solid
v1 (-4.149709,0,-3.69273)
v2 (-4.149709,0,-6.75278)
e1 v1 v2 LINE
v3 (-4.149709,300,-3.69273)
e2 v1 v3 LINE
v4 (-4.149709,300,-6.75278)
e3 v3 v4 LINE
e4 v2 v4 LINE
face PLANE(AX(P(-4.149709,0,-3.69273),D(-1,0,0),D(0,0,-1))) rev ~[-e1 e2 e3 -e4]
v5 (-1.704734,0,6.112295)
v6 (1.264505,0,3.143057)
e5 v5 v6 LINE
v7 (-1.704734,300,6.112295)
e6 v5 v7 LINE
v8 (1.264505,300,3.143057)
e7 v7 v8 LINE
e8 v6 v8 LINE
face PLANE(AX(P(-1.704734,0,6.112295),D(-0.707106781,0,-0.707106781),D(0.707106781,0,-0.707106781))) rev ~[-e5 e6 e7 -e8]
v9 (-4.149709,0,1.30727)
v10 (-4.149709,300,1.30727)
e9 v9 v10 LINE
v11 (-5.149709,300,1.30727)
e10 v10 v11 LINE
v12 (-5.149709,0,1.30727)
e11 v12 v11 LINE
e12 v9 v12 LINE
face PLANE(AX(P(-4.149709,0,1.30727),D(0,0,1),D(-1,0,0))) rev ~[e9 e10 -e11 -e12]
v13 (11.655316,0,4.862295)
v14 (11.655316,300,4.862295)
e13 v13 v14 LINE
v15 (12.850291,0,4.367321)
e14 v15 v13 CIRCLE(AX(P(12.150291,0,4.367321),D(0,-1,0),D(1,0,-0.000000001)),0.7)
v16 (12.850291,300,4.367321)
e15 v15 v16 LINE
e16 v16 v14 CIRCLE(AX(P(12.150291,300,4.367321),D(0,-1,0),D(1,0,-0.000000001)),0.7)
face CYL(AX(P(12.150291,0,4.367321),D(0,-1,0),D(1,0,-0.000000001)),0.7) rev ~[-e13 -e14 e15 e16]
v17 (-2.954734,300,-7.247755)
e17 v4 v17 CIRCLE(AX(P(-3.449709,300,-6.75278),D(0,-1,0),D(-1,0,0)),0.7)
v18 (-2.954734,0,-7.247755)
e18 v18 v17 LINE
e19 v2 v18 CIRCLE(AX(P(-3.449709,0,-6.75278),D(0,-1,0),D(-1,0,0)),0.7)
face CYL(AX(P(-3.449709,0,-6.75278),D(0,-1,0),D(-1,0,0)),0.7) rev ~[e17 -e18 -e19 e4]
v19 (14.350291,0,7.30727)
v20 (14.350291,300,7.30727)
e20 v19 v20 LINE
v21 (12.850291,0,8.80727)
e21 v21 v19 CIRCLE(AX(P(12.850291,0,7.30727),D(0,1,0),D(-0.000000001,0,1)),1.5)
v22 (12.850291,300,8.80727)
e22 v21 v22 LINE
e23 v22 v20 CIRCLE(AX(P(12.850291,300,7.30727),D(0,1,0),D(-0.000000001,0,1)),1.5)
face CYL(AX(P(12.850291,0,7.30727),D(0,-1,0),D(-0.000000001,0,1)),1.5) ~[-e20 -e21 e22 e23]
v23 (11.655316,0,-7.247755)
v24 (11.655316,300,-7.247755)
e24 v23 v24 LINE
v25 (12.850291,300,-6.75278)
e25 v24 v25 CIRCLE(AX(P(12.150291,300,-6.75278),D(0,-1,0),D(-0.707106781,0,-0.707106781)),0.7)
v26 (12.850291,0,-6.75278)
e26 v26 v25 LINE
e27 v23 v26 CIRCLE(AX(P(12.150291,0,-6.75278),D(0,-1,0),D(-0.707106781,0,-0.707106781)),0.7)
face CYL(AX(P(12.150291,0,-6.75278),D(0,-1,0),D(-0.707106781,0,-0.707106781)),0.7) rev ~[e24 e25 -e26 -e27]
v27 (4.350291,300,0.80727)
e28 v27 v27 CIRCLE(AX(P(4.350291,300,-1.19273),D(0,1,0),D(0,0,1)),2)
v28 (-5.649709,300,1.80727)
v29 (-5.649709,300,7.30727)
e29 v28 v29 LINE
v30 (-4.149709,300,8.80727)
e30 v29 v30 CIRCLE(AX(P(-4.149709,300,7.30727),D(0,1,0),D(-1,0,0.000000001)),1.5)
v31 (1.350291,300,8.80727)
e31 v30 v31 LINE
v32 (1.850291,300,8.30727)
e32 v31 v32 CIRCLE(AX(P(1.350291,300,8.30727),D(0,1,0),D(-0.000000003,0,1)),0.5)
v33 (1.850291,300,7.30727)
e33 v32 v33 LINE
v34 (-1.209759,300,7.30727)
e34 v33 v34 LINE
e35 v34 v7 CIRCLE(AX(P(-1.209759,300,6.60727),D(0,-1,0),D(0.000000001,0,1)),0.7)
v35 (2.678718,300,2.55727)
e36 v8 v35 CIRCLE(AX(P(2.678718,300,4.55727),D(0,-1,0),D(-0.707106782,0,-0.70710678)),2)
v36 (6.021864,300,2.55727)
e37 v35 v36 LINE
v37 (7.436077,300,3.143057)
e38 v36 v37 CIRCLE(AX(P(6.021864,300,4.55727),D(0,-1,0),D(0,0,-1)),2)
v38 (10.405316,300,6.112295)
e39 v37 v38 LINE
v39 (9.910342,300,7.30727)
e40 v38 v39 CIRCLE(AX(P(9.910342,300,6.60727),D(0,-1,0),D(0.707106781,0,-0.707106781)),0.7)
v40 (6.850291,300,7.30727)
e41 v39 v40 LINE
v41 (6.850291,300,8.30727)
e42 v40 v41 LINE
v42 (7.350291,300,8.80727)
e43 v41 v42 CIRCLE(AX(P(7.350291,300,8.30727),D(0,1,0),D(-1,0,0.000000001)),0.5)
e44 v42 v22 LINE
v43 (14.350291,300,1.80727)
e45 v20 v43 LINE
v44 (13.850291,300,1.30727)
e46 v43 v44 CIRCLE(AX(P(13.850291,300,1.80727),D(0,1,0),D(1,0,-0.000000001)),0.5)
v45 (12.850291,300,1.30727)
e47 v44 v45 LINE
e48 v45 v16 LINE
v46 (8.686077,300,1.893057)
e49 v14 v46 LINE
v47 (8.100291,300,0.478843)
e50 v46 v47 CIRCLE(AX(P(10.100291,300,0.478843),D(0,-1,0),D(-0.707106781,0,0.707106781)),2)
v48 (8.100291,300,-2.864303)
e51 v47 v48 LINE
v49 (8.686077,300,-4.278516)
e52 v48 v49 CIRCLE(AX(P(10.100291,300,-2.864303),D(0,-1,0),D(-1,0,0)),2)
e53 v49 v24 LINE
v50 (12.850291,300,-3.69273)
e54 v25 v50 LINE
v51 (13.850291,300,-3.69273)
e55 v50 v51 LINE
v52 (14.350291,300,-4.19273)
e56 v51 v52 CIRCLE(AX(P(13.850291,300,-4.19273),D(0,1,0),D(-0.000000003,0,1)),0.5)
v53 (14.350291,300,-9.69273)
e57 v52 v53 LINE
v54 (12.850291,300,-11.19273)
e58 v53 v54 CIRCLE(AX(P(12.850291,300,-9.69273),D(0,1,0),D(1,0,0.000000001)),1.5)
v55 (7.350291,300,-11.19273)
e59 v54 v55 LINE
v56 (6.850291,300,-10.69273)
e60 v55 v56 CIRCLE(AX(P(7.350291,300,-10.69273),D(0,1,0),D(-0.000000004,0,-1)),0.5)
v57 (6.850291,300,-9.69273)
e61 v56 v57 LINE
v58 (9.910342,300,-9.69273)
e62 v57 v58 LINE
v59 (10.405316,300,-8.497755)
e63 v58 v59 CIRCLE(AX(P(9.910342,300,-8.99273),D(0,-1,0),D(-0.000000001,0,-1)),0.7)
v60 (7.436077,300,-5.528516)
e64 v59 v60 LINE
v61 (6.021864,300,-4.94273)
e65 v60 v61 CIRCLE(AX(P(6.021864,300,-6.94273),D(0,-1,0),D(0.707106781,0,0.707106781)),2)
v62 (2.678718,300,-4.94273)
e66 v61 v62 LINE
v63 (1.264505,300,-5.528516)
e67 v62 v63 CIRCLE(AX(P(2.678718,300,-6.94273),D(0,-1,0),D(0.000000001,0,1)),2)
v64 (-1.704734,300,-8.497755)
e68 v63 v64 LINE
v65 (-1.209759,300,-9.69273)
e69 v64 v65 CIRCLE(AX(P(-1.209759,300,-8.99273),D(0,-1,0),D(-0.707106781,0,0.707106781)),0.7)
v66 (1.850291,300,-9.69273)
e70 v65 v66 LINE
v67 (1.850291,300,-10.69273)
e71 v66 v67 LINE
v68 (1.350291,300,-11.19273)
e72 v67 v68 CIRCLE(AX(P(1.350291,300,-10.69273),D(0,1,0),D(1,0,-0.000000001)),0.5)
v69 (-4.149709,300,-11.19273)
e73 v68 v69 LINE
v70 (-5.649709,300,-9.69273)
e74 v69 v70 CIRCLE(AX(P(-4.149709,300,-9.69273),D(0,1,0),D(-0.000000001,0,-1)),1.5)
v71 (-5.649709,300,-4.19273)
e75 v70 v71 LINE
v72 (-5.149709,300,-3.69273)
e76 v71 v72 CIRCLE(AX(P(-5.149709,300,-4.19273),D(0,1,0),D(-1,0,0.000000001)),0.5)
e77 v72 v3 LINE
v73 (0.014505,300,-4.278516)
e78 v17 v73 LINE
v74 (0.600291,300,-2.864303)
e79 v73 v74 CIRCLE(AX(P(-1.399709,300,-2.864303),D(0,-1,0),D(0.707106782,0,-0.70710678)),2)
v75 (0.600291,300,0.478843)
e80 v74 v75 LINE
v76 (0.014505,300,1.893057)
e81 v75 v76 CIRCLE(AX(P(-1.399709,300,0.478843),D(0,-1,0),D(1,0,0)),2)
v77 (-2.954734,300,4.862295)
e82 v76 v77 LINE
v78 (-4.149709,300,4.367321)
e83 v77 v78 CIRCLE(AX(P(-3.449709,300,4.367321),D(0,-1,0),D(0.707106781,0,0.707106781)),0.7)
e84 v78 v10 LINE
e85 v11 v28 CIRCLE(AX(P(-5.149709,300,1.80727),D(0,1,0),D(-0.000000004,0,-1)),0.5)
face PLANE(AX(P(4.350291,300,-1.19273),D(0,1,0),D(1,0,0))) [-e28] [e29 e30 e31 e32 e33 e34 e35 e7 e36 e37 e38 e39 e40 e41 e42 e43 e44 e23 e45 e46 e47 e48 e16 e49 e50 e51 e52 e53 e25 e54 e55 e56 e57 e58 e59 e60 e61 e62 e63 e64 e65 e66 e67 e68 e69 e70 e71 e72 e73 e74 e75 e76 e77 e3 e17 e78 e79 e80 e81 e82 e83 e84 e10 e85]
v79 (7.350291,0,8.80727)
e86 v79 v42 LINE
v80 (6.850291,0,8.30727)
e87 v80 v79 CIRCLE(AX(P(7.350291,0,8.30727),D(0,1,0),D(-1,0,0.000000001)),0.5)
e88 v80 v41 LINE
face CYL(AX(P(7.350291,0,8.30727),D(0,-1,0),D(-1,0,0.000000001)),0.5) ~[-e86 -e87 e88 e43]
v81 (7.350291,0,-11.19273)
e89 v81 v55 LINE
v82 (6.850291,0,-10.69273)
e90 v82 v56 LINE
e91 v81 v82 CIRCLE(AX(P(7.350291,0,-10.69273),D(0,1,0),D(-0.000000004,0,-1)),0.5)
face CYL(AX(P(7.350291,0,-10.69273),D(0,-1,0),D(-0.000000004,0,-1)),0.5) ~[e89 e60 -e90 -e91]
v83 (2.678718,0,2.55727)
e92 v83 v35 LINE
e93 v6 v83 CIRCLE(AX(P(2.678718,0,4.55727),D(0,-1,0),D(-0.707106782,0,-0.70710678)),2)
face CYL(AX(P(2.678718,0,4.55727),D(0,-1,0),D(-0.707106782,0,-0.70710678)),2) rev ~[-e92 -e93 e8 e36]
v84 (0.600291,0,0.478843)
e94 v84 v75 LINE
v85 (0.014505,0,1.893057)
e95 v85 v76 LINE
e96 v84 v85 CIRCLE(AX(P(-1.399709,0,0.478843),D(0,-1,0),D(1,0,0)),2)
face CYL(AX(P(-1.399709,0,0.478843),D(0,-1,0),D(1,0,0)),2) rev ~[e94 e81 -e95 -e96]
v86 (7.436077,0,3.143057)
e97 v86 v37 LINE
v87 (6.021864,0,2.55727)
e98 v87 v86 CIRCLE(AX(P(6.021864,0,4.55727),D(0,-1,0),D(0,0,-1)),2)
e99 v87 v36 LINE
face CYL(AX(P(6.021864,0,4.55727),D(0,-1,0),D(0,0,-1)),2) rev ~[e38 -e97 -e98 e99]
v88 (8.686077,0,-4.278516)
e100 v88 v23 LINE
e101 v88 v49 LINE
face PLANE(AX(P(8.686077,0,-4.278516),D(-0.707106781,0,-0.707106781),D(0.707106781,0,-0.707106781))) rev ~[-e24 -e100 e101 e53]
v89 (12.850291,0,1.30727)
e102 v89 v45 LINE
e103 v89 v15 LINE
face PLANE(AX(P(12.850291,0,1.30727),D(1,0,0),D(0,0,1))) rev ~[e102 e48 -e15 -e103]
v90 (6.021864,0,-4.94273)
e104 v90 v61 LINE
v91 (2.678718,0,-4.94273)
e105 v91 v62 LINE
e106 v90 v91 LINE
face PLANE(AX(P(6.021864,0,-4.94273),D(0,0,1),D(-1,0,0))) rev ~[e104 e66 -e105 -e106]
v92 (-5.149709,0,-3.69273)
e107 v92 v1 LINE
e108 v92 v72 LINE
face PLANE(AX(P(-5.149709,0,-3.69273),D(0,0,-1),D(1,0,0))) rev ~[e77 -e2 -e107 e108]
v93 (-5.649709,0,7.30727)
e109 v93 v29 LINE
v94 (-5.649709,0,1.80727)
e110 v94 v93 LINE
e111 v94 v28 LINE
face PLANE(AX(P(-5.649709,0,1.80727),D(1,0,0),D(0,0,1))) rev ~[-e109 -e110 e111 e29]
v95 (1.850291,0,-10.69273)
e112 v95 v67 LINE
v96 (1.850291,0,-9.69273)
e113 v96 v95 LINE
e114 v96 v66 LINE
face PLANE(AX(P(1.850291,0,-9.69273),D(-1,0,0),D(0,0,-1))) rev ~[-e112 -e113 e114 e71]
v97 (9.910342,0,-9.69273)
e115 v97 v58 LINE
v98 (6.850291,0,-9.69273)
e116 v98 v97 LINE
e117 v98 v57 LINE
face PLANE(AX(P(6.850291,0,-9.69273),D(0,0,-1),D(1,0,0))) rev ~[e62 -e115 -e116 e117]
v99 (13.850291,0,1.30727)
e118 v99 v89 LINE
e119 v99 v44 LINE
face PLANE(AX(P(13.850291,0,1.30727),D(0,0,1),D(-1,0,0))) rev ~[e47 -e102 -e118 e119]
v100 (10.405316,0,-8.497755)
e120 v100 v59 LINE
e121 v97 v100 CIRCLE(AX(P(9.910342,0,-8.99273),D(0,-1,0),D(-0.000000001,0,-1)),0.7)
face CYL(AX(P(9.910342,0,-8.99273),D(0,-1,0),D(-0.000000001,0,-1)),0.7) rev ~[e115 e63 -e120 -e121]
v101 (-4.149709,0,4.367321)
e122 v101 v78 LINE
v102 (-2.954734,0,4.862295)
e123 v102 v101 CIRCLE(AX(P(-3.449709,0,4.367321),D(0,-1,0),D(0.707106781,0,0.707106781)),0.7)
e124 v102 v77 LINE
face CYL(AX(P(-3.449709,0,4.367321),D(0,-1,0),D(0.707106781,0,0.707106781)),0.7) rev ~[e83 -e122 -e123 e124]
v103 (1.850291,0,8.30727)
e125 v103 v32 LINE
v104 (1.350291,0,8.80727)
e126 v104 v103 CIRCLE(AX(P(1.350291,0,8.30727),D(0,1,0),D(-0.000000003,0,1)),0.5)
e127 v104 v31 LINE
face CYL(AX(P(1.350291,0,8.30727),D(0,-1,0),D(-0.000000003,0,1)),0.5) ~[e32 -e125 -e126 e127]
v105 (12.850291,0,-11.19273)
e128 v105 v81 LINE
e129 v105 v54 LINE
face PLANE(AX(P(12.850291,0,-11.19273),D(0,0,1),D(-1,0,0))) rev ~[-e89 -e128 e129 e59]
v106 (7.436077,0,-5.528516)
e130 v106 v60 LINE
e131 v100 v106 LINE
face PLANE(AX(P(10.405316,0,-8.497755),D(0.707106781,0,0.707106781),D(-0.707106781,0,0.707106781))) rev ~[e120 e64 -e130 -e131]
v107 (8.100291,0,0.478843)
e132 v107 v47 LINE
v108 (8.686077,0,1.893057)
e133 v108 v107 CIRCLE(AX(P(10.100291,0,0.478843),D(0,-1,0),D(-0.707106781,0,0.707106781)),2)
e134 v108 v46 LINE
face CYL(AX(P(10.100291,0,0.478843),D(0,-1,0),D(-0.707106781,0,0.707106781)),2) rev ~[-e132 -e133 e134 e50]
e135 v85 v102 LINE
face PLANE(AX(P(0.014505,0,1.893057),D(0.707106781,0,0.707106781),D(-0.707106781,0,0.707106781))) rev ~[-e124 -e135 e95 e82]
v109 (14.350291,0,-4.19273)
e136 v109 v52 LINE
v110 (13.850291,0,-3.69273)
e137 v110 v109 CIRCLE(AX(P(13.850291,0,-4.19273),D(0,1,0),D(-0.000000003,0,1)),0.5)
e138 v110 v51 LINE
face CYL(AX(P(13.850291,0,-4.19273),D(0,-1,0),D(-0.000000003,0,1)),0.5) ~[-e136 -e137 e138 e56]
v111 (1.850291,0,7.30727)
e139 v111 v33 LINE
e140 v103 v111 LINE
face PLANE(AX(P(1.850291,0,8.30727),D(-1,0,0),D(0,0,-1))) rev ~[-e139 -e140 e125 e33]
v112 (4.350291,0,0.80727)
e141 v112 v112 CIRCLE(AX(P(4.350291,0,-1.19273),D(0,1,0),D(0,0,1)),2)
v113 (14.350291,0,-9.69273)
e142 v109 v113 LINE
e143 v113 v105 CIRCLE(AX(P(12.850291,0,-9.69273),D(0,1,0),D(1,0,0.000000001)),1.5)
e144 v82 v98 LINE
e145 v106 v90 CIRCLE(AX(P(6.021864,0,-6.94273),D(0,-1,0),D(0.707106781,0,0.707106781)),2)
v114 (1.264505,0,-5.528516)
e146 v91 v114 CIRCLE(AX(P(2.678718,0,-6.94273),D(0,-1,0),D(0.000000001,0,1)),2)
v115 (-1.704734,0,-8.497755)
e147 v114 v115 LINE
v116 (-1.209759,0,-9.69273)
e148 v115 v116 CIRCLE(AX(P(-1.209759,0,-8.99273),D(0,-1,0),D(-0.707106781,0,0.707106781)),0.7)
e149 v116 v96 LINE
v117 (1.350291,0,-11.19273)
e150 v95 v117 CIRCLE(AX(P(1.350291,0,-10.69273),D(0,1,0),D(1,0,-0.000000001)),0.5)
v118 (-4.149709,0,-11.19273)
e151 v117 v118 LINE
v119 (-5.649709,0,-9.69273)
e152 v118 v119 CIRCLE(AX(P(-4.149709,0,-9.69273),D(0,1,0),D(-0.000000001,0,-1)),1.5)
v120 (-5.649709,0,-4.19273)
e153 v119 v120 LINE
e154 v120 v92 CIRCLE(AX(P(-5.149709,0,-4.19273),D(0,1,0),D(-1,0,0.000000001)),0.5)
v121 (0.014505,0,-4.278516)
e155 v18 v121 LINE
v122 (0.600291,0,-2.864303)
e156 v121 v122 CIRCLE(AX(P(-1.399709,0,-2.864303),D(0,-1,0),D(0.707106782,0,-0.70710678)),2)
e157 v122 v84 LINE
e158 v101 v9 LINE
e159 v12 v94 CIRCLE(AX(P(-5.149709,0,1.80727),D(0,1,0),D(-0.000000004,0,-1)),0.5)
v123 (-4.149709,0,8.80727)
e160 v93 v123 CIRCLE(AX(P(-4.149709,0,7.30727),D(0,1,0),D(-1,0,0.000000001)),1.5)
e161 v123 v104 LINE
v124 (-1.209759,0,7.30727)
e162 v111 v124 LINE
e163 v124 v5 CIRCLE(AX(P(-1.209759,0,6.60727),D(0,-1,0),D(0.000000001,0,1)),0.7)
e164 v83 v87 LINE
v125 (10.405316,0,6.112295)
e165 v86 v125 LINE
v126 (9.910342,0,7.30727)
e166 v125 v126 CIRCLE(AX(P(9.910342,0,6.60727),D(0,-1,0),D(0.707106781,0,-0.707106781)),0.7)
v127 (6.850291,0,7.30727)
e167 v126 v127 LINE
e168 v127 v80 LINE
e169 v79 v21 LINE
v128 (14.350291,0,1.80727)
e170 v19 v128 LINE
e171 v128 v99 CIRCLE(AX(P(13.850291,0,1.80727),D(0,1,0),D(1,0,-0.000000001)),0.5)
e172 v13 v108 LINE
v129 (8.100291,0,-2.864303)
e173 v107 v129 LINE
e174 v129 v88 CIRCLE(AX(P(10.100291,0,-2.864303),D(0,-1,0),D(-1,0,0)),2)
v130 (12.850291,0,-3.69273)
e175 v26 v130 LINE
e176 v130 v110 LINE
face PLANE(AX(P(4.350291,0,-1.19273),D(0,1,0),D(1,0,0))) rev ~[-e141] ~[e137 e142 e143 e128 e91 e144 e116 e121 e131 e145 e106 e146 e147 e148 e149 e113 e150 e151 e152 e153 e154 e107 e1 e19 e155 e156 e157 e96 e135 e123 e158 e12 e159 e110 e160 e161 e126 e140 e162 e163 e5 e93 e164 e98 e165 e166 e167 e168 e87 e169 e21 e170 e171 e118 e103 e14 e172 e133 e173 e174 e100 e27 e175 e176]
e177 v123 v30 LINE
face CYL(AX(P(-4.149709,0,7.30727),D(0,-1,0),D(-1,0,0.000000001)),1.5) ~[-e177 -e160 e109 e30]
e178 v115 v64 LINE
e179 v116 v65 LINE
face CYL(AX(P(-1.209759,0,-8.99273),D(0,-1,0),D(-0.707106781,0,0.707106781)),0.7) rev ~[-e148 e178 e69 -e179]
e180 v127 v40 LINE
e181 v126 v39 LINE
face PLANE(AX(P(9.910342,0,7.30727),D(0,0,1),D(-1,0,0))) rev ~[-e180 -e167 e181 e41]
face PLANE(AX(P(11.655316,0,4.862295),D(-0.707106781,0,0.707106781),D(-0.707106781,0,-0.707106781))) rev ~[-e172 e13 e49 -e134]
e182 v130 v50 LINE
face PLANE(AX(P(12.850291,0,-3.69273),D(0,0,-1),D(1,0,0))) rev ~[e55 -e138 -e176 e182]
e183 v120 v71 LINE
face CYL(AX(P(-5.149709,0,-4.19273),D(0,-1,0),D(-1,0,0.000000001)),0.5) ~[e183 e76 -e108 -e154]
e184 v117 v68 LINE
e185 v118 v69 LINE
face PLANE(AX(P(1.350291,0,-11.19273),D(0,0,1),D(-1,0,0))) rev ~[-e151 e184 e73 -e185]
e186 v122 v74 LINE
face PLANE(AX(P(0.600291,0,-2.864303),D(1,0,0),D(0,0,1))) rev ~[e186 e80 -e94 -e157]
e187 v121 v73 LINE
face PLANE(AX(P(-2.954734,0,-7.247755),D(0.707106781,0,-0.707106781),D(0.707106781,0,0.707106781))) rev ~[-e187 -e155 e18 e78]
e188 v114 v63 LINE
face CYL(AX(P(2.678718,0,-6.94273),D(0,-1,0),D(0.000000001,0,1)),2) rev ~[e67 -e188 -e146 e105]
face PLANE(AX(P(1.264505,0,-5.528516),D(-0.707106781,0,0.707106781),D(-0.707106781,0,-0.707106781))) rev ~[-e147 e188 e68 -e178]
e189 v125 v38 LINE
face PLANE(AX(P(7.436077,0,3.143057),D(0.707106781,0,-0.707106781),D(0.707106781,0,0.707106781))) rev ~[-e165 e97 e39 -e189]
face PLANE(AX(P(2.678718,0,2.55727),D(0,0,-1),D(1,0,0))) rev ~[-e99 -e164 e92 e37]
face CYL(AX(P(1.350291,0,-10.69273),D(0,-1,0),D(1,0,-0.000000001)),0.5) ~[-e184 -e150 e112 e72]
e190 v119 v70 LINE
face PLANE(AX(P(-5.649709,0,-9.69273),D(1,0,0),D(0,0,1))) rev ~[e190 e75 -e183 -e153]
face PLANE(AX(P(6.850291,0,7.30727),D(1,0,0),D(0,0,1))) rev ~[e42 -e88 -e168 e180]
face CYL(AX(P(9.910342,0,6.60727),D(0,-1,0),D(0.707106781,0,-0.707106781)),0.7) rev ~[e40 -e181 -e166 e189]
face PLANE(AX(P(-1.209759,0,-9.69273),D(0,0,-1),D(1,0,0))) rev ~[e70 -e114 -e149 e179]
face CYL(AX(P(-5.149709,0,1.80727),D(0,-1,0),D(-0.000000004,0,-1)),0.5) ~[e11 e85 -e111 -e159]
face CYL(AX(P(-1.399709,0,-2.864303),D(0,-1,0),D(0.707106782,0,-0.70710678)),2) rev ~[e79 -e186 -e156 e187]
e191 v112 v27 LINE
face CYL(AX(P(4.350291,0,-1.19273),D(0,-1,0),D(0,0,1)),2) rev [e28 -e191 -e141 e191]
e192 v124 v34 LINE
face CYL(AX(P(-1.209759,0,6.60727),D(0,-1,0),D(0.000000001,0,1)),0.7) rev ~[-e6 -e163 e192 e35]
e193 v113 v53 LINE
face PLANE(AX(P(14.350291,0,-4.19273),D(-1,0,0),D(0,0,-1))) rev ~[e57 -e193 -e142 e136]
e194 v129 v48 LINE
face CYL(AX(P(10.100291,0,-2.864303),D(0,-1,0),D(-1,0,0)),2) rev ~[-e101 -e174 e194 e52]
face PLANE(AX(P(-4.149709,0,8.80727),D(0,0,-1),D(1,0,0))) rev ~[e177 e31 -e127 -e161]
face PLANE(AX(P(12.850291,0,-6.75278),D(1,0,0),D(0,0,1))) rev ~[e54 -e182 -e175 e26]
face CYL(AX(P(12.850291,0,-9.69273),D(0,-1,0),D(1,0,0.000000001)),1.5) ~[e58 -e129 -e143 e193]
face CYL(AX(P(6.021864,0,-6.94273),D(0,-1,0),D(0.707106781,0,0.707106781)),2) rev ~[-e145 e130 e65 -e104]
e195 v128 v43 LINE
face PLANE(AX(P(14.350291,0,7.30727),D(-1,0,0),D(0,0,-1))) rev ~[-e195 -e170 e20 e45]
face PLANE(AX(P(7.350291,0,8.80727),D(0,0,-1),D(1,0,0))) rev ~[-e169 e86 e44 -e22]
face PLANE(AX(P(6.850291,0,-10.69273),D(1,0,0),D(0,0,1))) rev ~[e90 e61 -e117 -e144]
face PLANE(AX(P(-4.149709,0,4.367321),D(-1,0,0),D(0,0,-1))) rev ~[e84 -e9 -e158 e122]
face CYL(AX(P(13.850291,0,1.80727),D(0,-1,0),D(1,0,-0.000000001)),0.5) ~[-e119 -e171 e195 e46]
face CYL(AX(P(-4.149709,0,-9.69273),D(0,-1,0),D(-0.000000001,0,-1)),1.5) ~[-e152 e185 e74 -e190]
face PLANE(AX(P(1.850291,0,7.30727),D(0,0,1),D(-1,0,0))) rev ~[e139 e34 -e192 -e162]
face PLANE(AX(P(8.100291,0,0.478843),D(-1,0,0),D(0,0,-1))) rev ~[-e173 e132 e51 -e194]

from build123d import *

# Parameters (mm, degrees)
ESQUISSE1_R        = 2
BOSS_EXTRU_1_DEPTH = 300


with BuildPart() as part:
    # Esquisse1 → Boss.-Extru.1 (new body)
    with BuildSketch(Plane(origin=(0, 0, 0), x_dir=(1, 0, 0), z_dir=(0, 1, 0))):
        with BuildLine():
            Line((-5.649708969, 9.692729836), (-5.649708969, 4.192729836))
            ThreePointArc((-5.649708969, 4.192729836), (-5.503262359, 3.839176445), (-5.149708969, 3.692729836))
            Line((-5.149708969, 3.692729836), (-4.149708969, 3.692729836))
            Line((-4.149708969, 3.692729836), (-4.149708969, 6.752780342))
            ThreePointArc((-4.149708969, 6.752780342), (-3.717587371, 7.399496015), (-2.954734222, 7.247755089))
            Line((-2.954734222, 7.247755089), (0.014504594, 4.278516274))
            ThreePointArc((0.014504594, 4.278516274), (0.448050096, 3.629669576), (0.600291031, 2.864302711))
            Line((0.600291031, 2.864302711), (0.600291031, -0.478843039))
            ThreePointArc((0.600291031, -0.478843039), (0.448050096, -1.244209904), (0.014504594, -1.893056602))
            Line((0.014504594, -1.893056602), (-2.954734222, -4.862295417))
            ThreePointArc((-2.954734222, -4.862295417), (-3.717587371, -5.014036343), (-4.149708969, -4.36732067))
            Line((-4.149708969, -4.36732067), (-4.149708969, -1.307270164))
            Line((-4.149708969, -1.307270164), (-5.149708969, -1.307270164))
            ThreePointArc((-5.149708969, -1.307270164), (-5.503262359, -1.453716774), (-5.649708969, -1.807270164))
            Line((-5.649708969, -1.807270164), (-5.649708969, -7.307270164))
            ThreePointArc((-5.649708969, -7.307270164), (-5.21036914, -8.367930336), (-4.149708969, -8.807270164))
            Line((-4.149708969, -8.807270164), (1.350291031, -8.807270164))
            ThreePointArc((1.350291031, -8.807270164), (1.703844422, -8.660823555), (1.850291031, -8.307270164))
            Line((1.850291031, -8.307270164), (1.850291031, -7.307270164))
            Line((1.850291031, -7.307270164), (-1.209759475, -7.307270164))
            ThreePointArc((-1.209759475, -7.307270164), (-1.856475148, -6.875148567), (-1.704734222, -6.112295417))
            Line((-1.704734222, -6.112295417), (1.264504594, -3.143056602))
            ThreePointArc((1.264504594, -3.143056602), (1.913351291, -2.709511099), (2.678718156, -2.557270164))
            Line((2.678718156, -2.557270164), (6.021863907, -2.557270164))
            ThreePointArc((6.021863907, -2.557270164), (6.787230771, -2.709511099), (7.436077469, -3.143056602))
            Line((7.436077469, -3.143056602), (10.405316285, -6.112295417))
            ThreePointArc((10.405316285, -6.112295417), (10.557057211, -6.875148567), (9.910341538, -7.307270164))
            Line((9.910341538, -7.307270164), (6.850291031, -7.307270164))
            Line((6.850291031, -7.307270164), (6.850291031, -8.307270164))
            ThreePointArc((6.850291031, -8.307270164), (6.996737641, -8.660823555), (7.350291031, -8.807270164))
            Line((7.350291031, -8.807270164), (12.850291031, -8.807270164))
            ThreePointArc((12.850291031, -8.807270164), (13.910951203, -8.367930336), (14.350291031, -7.307270164))
            Line((14.350291031, -7.307270164), (14.350291031, -1.807270164))
            ThreePointArc((14.350291031, -1.807270164), (14.203844422, -1.453716774), (13.850291031, -1.307270164))
            Line((13.850291031, -1.307270164), (12.850291031, -1.307270164))
            Line((12.850291031, -1.307270164), (12.850291031, -4.36732067))
            ThreePointArc((12.850291031, -4.36732067), (12.418169434, -5.014036343), (11.655316285, -4.862295417))
            Line((11.655316285, -4.862295417), (8.686077469, -1.893056602))
            ThreePointArc((8.686077469, -1.893056602), (8.252531966, -1.244209904), (8.100291031, -0.478843039))
            Line((8.100291031, -0.478843039), (8.100291031, 2.864302711))
            ThreePointArc((8.100291031, 2.864302711), (8.252531966, 3.629669576), (8.686077469, 4.278516274))
            Line((8.686077469, 4.278516274), (11.655316285, 7.247755089))
            ThreePointArc((11.655316285, 7.247755089), (12.418169434, 7.399496015), (12.850291031, 6.752780342))
            Line((12.850291031, 6.752780342), (12.850291031, 3.692729836))
            Line((12.850291031, 3.692729836), (13.850291031, 3.692729836))
            ThreePointArc((13.850291031, 3.692729836), (14.203844422, 3.839176445), (14.350291031, 4.192729836))
            Line((14.350291031, 4.192729836), (14.350291031, 9.692729836))
            ThreePointArc((14.350291031, 9.692729836), (13.910951203, 10.753390008), (12.850291031, 11.192729836))
            Line((12.850291031, 11.192729836), (7.350291031, 11.192729836))
            ThreePointArc((7.350291031, 11.192729836), (6.996737641, 11.046283226), (6.850291031, 10.692729836))
            Line((6.850291031, 10.692729836), (6.850291031, 9.692729836))
            Line((6.850291031, 9.692729836), (9.910341538, 9.692729836))
            ThreePointArc((9.910341538, 9.692729836), (10.557057211, 9.260608239), (10.405316285, 8.497755089))
            Line((10.405316285, 8.497755089), (7.436077469, 5.528516274))
            ThreePointArc((7.436077469, 5.528516274), (6.787230771, 5.094970771), (6.021863907, 4.942729836))
            Line((6.021863907, 4.942729836), (2.678718156, 4.942729836))
            ThreePointArc((2.678718156, 4.942729836), (1.913351291, 5.094970771), (1.264504594, 5.528516274))
            Line((1.264504594, 5.528516274), (-1.704734222, 8.497755089))
            ThreePointArc((-1.704734222, 8.497755089), (-1.856475148, 9.260608239), (-1.209759475, 9.692729836))
            Line((-1.209759475, 9.692729836), (1.850291031, 9.692729836))
            Line((1.850291031, 9.692729836), (1.850291031, 10.692729836))
            ThreePointArc((1.850291031, 10.692729836), (1.703844422, 11.046283226), (1.350291031, 11.192729836))
            Line((1.350291031, 11.192729836), (-4.149708969, 11.192729836))
            ThreePointArc((-4.149708969, 11.192729836), (-5.21036914, 10.753390008), (-5.649708969, 9.692729836))
        make_face()
        with Locations(Location((4.350291031, 1.192729836, 0), (0, 0, 270))):
            Circle(ESQUISSE1_R, mode=Mode.SUBTRACT)
    extrude(amount=BOSS_EXTRU_1_DEPTH)


solid = part.part
